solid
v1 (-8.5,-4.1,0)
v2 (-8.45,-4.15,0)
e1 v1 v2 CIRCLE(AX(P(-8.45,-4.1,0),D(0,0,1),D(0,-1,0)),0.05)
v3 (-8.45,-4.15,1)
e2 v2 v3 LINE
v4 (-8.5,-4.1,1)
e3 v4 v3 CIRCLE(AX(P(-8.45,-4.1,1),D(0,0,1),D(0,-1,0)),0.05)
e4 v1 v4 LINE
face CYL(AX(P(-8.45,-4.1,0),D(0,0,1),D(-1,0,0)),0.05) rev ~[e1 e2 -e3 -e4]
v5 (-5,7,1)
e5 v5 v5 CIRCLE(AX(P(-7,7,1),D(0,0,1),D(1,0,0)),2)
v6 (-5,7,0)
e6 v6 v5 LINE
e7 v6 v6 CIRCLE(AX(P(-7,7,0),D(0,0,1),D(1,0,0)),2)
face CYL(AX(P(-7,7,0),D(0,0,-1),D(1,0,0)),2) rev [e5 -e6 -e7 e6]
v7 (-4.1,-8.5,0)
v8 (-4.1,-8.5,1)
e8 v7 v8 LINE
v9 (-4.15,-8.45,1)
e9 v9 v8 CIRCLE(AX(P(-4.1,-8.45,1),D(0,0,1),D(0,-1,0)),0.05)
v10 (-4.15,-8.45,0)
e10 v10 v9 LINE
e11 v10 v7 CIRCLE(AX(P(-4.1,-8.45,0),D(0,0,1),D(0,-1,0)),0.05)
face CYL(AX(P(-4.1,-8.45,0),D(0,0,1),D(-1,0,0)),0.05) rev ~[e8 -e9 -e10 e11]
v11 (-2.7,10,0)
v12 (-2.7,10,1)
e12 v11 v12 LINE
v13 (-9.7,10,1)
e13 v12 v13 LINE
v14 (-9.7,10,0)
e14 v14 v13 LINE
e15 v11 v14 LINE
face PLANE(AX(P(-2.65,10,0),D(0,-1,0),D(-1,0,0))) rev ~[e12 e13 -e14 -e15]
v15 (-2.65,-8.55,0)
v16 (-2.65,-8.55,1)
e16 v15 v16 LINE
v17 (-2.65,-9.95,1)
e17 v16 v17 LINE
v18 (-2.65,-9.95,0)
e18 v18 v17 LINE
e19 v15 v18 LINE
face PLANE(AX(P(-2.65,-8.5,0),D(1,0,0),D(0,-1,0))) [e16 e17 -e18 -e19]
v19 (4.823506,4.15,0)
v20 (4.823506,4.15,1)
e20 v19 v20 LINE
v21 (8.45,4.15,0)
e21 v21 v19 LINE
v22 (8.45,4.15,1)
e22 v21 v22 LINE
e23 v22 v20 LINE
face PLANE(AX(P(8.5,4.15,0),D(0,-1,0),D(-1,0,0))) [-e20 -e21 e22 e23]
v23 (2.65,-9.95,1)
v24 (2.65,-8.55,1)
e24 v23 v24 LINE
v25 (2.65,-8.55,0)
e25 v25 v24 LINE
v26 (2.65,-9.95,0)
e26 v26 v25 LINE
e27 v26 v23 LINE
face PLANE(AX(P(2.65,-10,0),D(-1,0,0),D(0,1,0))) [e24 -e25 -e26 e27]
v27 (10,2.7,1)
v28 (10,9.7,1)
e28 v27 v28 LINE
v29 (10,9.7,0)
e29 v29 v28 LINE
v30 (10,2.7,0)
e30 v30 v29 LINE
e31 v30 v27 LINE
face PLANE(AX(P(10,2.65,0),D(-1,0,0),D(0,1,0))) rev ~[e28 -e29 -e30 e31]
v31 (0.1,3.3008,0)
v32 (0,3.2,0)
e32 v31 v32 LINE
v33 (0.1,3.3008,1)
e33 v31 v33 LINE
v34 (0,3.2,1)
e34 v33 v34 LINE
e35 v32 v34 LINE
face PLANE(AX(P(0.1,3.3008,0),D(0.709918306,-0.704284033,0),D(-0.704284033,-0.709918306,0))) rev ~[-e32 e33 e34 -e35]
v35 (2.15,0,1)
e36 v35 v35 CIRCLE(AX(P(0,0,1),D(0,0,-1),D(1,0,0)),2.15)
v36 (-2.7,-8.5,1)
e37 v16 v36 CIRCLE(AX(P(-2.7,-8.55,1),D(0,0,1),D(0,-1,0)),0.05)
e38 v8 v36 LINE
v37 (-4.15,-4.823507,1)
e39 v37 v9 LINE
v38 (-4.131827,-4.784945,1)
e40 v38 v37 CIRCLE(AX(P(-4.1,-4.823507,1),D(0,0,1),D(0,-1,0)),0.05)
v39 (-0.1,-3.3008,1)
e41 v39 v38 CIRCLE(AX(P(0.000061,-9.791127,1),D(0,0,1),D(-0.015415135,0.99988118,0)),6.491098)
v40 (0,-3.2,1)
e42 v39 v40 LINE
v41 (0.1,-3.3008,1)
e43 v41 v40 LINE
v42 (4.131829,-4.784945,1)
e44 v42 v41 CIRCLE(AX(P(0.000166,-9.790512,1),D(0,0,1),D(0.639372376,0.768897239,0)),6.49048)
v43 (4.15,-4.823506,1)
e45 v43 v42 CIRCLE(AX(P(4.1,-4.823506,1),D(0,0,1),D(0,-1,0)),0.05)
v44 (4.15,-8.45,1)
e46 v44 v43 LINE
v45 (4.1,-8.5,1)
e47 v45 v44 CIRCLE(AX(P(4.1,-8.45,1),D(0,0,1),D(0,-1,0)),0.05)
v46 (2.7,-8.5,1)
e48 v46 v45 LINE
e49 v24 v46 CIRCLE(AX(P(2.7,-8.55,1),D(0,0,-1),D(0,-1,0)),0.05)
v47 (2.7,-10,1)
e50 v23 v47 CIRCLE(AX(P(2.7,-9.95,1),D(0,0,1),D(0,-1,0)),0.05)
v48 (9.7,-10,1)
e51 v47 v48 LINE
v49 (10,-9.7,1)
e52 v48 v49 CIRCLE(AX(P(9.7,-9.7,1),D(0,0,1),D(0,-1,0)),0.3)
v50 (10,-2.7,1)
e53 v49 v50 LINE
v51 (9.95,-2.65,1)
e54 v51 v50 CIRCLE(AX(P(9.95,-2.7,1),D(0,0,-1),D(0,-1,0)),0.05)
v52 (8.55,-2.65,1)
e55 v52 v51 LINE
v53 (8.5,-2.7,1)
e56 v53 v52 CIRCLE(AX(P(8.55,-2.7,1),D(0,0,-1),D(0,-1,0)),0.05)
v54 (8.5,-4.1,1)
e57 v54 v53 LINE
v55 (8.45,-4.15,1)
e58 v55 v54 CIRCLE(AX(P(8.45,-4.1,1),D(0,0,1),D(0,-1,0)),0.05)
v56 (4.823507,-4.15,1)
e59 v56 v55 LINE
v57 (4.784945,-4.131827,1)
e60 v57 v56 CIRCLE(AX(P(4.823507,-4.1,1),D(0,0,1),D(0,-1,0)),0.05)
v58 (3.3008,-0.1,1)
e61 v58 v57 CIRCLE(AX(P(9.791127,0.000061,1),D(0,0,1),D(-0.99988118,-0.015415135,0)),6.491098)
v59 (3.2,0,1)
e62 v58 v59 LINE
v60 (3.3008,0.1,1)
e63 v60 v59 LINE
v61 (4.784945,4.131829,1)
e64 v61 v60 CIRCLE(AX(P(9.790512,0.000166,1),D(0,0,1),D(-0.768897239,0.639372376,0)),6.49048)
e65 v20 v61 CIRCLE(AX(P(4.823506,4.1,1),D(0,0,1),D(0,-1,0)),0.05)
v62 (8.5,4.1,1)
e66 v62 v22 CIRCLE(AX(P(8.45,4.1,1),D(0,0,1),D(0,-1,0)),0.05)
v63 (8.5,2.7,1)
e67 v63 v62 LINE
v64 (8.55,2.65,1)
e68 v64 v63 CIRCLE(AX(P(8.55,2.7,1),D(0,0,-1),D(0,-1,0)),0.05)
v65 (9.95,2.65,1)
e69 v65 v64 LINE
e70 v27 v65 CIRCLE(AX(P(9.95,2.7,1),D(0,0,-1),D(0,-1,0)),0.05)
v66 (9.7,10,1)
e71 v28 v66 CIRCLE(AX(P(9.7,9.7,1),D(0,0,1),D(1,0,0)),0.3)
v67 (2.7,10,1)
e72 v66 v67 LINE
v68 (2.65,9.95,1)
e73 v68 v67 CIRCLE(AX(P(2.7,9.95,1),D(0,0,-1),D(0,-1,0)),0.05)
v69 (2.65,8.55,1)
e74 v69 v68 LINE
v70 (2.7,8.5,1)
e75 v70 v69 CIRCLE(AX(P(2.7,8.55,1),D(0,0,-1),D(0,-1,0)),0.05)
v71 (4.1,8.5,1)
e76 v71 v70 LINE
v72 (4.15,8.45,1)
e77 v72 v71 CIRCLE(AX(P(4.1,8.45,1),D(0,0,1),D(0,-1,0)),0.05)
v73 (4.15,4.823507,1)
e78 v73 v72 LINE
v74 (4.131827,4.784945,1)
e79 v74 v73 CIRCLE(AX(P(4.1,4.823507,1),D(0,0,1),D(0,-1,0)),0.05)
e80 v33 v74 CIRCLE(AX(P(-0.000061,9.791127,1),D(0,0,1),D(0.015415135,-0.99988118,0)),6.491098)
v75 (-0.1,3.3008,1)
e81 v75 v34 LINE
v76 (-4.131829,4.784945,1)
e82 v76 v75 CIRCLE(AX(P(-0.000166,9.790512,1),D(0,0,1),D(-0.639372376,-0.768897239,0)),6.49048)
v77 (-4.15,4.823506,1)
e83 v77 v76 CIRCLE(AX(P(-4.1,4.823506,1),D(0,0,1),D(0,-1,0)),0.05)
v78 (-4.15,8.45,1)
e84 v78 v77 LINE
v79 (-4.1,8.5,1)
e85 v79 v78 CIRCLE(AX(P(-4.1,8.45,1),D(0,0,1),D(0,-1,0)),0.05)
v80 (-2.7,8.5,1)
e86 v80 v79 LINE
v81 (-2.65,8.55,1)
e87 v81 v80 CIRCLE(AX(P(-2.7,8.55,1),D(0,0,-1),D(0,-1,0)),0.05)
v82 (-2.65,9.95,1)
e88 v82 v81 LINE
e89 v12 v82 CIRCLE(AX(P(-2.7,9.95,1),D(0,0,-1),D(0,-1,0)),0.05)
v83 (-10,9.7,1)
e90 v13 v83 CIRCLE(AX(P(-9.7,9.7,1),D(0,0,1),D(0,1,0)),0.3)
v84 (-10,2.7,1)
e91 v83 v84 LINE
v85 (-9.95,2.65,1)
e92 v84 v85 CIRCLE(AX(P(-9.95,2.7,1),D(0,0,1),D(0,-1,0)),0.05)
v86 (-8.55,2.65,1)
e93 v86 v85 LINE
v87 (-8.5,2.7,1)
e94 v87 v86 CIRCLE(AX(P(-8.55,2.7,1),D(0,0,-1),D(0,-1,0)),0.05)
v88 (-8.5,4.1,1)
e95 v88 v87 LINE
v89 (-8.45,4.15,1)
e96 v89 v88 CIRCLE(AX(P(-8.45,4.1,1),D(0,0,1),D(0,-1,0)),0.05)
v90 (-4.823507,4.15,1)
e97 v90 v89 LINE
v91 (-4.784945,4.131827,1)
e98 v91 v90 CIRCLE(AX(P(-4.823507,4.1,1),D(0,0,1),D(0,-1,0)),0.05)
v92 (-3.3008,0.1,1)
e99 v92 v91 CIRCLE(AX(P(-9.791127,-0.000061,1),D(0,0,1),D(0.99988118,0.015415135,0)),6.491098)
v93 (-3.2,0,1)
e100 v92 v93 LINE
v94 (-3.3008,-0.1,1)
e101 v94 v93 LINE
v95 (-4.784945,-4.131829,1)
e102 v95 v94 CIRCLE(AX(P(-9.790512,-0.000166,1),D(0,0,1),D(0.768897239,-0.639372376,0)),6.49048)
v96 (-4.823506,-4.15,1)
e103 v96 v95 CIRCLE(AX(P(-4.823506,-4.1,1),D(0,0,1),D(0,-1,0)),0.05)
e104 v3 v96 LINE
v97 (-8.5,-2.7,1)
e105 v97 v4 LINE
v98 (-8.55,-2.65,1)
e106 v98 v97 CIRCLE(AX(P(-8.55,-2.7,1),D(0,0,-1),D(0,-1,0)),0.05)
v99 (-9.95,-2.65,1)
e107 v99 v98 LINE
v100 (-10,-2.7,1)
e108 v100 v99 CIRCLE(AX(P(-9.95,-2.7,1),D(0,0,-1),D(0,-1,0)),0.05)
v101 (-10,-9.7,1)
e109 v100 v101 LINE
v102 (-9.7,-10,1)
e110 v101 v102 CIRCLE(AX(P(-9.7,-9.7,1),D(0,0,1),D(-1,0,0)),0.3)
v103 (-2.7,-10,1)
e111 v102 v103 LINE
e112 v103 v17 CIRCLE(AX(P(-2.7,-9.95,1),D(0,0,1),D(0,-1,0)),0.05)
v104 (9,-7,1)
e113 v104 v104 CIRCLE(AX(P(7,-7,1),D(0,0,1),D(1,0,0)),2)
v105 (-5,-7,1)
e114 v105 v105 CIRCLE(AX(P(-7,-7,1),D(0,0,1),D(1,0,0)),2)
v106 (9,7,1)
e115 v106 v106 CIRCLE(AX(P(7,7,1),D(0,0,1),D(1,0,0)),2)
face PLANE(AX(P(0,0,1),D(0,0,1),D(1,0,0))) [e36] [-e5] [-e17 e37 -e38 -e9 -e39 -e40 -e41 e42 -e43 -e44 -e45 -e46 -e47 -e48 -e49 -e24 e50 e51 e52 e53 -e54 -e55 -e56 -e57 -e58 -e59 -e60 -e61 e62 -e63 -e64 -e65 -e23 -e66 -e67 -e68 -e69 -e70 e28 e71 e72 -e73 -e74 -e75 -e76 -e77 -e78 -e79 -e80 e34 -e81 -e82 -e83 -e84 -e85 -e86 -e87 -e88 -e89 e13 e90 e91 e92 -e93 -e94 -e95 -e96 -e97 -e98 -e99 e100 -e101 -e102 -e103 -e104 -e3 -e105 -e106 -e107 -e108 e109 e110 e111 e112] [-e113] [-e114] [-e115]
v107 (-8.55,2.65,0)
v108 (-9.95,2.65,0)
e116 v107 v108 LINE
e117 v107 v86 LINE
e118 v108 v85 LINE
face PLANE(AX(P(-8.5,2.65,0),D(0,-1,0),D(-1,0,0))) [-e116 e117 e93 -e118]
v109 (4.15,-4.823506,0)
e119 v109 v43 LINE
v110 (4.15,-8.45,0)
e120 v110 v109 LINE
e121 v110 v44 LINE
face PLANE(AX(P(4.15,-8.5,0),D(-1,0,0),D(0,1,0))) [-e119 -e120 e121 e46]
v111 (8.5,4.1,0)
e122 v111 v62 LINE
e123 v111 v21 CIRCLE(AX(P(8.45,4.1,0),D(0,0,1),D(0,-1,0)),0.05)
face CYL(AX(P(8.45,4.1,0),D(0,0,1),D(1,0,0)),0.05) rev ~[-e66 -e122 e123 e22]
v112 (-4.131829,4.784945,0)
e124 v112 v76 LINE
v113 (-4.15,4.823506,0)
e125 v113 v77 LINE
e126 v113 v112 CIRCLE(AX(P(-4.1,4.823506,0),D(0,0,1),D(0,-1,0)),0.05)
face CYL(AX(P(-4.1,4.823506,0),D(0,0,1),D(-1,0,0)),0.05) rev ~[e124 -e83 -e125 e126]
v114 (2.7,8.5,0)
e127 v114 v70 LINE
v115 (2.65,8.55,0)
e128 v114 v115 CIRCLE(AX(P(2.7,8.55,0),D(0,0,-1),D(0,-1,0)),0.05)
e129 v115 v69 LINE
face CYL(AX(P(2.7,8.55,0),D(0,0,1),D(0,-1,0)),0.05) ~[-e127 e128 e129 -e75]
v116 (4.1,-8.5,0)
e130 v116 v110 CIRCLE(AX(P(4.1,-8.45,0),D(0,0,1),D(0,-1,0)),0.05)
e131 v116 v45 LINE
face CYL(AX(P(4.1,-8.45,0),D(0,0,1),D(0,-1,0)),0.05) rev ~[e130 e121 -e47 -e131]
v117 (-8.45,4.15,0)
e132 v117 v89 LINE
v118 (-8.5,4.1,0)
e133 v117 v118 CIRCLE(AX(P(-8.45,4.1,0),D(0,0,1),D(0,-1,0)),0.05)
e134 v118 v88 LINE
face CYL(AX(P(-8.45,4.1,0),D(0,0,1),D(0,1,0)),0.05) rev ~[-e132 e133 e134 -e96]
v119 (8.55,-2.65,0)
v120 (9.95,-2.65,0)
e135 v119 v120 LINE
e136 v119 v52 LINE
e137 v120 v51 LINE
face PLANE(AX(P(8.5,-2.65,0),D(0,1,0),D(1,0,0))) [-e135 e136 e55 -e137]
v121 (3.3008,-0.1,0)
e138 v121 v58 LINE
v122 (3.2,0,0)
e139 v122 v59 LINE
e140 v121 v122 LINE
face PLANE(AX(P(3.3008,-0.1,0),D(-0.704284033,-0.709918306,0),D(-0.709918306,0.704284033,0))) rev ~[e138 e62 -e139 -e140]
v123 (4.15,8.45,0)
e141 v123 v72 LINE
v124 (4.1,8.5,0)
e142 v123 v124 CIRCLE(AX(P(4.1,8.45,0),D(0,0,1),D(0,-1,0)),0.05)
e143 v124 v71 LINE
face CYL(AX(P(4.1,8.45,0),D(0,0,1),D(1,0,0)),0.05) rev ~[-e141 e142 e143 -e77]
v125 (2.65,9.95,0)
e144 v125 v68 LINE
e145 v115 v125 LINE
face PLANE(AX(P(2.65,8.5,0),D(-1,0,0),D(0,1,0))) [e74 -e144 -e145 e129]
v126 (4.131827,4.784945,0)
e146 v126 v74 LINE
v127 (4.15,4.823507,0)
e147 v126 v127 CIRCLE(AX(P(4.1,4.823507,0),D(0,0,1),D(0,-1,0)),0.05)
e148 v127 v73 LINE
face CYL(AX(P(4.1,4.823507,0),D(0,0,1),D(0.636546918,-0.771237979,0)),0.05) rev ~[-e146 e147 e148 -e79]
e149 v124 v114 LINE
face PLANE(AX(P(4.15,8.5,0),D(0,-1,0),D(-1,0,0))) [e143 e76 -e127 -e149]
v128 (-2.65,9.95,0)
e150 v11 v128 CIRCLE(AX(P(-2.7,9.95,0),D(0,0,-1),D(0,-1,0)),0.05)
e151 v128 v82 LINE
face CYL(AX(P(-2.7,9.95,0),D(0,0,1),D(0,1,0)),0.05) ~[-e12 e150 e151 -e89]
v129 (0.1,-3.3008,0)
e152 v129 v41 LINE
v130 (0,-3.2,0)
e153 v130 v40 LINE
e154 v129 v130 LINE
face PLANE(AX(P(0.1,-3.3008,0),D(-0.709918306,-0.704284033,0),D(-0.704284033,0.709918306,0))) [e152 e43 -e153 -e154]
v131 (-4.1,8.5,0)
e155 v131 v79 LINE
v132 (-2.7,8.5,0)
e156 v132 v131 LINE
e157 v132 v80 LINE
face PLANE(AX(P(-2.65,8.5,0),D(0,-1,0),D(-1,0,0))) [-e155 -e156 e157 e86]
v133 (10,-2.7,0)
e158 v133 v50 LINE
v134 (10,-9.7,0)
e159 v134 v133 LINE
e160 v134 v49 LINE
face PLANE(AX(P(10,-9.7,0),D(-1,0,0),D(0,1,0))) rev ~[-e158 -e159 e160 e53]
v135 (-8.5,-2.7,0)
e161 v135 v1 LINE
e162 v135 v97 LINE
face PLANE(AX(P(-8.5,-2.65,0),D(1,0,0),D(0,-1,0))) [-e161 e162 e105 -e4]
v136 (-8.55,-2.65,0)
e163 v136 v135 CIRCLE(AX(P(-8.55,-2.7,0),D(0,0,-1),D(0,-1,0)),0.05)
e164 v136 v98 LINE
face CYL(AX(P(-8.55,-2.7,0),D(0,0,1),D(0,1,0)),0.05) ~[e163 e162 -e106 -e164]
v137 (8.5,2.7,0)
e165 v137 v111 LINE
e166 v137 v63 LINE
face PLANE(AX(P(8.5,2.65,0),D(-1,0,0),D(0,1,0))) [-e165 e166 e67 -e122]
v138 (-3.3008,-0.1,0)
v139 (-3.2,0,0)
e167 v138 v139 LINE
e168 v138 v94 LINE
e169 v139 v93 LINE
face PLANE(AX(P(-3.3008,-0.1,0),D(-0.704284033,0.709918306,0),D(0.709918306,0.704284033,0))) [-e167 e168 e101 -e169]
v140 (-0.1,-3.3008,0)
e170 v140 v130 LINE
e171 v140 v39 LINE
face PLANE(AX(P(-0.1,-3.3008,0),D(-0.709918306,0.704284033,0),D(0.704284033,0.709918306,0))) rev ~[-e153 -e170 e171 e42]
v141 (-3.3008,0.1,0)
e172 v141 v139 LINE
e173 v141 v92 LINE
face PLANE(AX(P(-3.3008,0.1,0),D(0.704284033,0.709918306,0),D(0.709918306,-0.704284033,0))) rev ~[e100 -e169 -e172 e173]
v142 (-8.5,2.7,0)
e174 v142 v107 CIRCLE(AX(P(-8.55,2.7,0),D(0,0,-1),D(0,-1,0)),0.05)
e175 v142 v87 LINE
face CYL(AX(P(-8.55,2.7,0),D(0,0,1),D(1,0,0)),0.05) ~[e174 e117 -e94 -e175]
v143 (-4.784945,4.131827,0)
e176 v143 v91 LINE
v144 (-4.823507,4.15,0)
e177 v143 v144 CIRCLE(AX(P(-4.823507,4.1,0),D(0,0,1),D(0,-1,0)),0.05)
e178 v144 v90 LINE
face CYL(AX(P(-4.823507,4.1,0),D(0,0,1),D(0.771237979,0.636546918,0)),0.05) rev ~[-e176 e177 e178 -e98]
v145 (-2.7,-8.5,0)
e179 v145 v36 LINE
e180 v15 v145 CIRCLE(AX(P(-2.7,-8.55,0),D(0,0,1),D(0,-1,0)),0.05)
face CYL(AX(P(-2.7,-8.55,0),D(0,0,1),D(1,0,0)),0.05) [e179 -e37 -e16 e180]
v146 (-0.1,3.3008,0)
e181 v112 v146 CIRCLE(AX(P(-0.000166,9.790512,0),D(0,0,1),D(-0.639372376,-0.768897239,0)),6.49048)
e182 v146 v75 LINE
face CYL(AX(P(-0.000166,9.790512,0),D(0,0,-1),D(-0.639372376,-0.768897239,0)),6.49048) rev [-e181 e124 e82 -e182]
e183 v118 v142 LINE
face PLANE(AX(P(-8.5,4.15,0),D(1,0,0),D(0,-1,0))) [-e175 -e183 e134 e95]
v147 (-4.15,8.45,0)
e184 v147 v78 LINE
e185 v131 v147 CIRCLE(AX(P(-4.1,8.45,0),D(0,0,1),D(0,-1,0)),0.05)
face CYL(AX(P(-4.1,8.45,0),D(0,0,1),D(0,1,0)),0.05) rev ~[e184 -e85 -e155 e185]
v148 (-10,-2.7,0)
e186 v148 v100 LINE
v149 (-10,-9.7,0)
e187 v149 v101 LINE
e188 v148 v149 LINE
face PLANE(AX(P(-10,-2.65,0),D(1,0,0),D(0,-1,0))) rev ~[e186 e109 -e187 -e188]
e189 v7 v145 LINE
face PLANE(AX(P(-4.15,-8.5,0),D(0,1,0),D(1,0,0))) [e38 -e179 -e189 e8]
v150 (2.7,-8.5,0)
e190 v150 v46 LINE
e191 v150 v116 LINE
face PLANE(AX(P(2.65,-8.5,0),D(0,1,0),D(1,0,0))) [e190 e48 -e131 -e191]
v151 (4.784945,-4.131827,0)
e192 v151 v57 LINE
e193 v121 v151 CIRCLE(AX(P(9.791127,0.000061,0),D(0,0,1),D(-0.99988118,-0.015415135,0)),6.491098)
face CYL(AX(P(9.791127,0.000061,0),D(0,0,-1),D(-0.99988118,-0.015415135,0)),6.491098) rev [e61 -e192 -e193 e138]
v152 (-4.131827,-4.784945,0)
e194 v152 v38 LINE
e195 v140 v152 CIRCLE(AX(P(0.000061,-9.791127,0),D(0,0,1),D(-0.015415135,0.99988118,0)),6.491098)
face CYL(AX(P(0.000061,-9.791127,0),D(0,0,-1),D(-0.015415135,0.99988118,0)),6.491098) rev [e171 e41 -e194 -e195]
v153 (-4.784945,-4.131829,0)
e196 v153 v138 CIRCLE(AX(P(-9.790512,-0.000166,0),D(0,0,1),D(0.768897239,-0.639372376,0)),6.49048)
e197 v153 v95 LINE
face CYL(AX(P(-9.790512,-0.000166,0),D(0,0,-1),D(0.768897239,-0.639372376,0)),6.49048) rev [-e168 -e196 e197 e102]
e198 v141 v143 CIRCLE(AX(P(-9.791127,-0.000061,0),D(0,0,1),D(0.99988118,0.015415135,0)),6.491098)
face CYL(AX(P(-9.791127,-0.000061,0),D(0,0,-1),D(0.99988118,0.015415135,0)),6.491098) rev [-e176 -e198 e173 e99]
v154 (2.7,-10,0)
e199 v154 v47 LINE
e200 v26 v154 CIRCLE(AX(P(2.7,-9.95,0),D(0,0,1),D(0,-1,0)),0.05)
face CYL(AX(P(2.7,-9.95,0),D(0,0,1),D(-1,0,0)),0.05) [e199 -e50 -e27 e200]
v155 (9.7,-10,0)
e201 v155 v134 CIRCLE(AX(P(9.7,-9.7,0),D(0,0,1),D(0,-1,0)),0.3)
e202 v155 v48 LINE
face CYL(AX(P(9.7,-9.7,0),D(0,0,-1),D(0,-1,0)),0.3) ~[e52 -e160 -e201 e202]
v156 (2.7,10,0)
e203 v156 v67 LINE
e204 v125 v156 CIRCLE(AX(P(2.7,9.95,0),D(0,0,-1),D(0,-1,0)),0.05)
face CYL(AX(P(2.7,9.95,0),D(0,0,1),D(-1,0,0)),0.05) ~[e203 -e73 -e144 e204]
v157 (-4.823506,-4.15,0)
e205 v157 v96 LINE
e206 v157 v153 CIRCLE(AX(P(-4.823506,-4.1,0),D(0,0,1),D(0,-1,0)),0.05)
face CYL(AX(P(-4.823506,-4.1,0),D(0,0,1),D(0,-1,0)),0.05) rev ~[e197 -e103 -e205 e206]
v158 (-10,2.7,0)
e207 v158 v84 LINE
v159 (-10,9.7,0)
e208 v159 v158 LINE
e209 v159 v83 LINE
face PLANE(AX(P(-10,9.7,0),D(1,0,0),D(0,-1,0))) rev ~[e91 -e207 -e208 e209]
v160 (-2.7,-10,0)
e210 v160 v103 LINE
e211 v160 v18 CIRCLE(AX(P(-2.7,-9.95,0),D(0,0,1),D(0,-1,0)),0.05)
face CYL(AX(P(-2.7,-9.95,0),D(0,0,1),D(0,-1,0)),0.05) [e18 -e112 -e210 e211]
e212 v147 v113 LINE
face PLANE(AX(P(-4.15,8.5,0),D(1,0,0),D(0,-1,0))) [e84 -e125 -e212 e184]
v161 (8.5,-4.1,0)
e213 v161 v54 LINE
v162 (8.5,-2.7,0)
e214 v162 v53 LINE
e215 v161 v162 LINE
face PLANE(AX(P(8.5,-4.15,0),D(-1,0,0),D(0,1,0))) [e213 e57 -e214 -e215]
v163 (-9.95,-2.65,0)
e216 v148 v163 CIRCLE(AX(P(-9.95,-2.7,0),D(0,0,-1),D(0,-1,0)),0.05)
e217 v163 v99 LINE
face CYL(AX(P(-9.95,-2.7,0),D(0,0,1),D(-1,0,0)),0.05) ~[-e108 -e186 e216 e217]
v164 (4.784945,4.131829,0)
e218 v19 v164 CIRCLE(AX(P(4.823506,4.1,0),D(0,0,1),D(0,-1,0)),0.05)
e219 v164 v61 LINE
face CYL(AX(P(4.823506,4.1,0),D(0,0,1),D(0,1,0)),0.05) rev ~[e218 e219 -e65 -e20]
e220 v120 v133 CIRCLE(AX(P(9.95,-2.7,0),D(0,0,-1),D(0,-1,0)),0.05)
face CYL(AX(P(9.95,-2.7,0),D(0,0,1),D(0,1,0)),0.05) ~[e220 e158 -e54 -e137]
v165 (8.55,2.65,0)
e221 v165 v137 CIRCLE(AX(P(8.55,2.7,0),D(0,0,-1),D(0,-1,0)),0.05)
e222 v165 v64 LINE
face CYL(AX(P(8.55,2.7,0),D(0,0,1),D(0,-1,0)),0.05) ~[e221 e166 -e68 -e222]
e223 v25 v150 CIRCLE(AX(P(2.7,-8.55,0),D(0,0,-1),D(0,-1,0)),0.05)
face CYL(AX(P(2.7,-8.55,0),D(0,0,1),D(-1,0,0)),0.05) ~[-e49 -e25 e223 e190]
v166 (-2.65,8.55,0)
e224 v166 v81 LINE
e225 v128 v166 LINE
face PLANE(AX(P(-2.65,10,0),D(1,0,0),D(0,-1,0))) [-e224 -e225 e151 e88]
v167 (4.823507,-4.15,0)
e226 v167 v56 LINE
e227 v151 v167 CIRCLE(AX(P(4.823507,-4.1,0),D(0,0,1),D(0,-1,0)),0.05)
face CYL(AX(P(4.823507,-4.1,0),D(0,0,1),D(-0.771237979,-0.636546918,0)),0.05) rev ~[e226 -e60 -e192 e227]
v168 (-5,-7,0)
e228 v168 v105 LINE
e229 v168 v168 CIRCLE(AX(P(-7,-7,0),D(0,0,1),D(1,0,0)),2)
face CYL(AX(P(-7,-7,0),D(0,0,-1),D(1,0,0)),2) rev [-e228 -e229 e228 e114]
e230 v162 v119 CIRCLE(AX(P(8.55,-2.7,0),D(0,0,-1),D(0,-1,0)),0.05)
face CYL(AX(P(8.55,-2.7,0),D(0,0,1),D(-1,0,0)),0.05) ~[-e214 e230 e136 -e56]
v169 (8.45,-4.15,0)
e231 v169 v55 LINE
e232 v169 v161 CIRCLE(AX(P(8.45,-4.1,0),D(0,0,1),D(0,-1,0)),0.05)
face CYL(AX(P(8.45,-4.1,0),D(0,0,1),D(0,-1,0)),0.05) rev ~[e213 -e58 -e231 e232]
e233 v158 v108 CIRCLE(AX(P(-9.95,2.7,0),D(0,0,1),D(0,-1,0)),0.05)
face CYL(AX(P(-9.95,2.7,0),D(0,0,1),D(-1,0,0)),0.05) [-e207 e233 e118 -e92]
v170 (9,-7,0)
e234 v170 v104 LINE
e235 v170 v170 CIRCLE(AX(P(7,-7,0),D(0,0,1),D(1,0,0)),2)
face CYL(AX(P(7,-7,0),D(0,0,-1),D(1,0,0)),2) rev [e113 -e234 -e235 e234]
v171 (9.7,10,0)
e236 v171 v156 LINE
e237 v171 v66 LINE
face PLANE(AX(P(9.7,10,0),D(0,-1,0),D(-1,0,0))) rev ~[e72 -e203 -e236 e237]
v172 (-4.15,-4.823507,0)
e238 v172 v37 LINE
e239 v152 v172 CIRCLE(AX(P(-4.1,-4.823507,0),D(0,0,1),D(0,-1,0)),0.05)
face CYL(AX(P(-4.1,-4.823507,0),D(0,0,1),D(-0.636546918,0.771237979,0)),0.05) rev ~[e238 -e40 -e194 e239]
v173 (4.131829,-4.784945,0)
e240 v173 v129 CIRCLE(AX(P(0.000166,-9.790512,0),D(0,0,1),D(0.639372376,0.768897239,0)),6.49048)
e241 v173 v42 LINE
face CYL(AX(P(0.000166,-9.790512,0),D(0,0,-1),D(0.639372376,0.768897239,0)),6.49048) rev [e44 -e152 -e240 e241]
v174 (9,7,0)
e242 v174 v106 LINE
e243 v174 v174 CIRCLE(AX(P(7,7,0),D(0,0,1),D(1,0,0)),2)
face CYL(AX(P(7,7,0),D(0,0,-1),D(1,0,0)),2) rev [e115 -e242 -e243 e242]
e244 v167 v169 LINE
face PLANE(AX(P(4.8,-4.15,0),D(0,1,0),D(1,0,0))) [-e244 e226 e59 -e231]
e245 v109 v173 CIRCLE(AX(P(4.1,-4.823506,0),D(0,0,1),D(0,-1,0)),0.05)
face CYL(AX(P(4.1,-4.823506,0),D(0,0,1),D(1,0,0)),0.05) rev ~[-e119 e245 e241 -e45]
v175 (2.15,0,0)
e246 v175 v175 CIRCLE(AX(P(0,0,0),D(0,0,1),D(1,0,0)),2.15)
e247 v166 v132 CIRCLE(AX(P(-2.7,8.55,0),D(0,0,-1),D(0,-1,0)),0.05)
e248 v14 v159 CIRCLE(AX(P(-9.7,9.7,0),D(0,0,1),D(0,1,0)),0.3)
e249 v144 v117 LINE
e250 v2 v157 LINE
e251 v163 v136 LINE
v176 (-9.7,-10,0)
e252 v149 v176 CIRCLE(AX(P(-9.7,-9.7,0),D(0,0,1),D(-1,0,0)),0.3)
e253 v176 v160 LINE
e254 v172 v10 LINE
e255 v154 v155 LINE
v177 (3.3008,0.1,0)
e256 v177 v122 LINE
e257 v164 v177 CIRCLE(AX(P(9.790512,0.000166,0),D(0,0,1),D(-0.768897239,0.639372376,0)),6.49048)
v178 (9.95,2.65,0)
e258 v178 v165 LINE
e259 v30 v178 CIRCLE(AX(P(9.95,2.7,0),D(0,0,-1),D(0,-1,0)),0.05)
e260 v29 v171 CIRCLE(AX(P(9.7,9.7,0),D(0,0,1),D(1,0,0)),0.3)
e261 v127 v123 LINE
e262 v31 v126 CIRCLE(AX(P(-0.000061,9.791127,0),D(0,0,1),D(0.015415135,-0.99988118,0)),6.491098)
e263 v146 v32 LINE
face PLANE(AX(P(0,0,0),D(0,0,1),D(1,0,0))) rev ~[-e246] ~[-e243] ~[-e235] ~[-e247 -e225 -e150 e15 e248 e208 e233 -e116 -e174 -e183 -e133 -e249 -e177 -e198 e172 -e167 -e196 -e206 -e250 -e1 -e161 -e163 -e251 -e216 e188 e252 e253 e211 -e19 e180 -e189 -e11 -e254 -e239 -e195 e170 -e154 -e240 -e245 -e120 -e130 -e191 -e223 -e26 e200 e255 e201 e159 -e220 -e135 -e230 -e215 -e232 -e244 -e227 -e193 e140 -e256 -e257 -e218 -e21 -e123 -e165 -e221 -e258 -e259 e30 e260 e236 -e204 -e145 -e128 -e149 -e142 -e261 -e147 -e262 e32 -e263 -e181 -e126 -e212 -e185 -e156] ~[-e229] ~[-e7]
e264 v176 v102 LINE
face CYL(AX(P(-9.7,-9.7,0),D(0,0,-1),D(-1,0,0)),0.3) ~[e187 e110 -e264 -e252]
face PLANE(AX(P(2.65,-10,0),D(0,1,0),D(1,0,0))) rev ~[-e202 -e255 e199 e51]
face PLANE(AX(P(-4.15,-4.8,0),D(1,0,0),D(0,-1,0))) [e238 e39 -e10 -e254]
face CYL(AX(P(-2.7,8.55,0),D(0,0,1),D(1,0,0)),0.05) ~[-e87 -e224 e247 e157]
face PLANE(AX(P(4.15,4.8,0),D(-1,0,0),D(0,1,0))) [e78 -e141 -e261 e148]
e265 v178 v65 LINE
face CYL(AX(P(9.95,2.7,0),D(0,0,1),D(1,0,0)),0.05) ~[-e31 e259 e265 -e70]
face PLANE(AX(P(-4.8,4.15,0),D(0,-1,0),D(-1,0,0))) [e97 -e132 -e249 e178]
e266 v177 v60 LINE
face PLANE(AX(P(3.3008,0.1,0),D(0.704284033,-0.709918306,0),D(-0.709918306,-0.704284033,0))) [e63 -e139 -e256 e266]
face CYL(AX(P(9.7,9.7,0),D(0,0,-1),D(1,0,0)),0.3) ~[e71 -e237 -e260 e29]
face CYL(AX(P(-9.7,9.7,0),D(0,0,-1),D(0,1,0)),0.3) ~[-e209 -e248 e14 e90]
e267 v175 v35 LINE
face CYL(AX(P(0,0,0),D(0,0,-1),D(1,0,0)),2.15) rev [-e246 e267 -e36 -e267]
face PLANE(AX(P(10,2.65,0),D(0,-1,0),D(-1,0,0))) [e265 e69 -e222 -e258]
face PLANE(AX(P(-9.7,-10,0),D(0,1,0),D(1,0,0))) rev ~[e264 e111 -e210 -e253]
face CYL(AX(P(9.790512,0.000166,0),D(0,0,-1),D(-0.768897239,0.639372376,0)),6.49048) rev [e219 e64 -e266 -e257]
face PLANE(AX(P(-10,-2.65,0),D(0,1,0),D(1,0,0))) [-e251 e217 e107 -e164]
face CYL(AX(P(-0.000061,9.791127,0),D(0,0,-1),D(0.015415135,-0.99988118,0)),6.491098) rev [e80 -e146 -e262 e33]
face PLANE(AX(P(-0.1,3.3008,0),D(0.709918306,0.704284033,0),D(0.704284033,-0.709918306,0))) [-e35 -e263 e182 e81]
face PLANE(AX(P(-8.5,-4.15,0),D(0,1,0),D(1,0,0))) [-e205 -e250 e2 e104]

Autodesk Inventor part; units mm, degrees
ref_plane "YZ Plane" through (0, 0, 0) normal (1, 0, 0) x (0, 1, 0)
ref_plane "XZ Plane" through (0, 0, 0) normal (0, 1, 0) x (-1, 0, 0)
ref_plane "XY Plane" through (0, 0, 0) normal (0, 0, 1) x (1, 0, 0)
sketch "스케치1" plane through (0, 0, 0) normal (0, 0, 1) x (1, 0, 0)
  line L0 (-9.7, -10) -> (9.7, -10)
  line L1 (10, -9.7) -> (10, 9.7)
  line L2 (9.7, 10) -> (-9.7, 10)
  line L3 (-10, 9.7) -> (-10, -9.7)
  line L4 (-10, -10) -> (10, 10) construction
  line L5 (10, -10) -> (-10, 10) construction
  circle A0 centre (-7, 7) radius 2
  line L6 (0, 15.6683) -> (0, -20)
  line L7 (-22.0072, 0) -> (22.0072, 0)
  circle A1 centre (0, 0) radius 2.15
  arc A2 (-9.7, 10) -> (-10, 9.7) centre (-9.7, 9.7) ccw
  arc A3 (10, 9.7) -> (9.7, 10) centre (9.7, 9.7) ccw
  arc A4 (9.7, -10) -> (10, -9.7) centre (9.7, -9.7) ccw
  arc A5 (-10, -9.7) -> (-9.7, -10) centre (-9.7, -9.7) ccw
  line L8 (-2.65, 10) -> (-2.65, 8.5)
  line L9 (-2.65, 8.5) -> (-4.15, 8.5)
  line L10 (-4.15, 8.5) -> (-4.15, 4.8)
  line L11 (4.15, 4.8) -> (4.15, 8.5)
  line L12 (4.15, 8.5) -> (2.65, 8.5)
  line L13 (2.65, 8.5) -> (2.65, 10)
  line L14 (-0.1, 3.3008) -> (0, 3.2)
  line L15 (0.1, 3.3008) -> (0, 3.2)
  arc A6 (-4.15, 4.8) -> (-0.1, 3.3008) centre (0, 9.7908) ccw
  arc A7 (0.1, 3.3008) -> (4.15, 4.8) centre (0, 9.7908) ccw
  circle A8 centre (7, 7) radius 2
  circle A9 centre (-7, -7) radius 2
  circle A10 centre (7, -7) radius 2
  line L16 (-3.3008, 0.1) -> (-3.2, 0)
  line L17 (-3.3008, -0.1) -> (-3.2, 0)
  arc A11 (-4.8, -4.15) -> (-3.3008, -0.1) centre (-9.7908, 0) ccw
  line L18 (-8.5, -4.15) -> (-4.8, -4.15)
  line L19 (-10, -2.65) -> (-8.5, -2.65)
  line L20 (-8.5, 2.65) -> (-10, 2.65)
  arc A12 (-3.3008, 0.1) -> (-4.8, 4.15) centre (-9.7908, 0) ccw
  line L21 (-4.8, 4.15) -> (-8.5, 4.15)
  line L22 (-8.5, 4.15) -> (-8.5, 2.65)
  line L23 (-8.5, -2.65) -> (-8.5, -4.15)
  line L24 (-0.1, -3.3008) -> (0, -3.2)
  line L25 (0.1, -3.3008) -> (0, -3.2)
  arc A13 (4.15, -4.8) -> (0.1, -3.3008) centre (0, -9.7908) ccw
  line L26 (4.15, -8.5) -> (4.15, -4.8)
  line L27 (2.65, -10) -> (2.65, -8.5)
  line L28 (-2.65, -8.5) -> (-2.65, -10)
  arc A14 (-0.1, -3.3008) -> (-4.15, -4.8) centre (0, -9.7908) ccw
  line L29 (-4.15, -4.8) -> (-4.15, -8.5)
  line L30 (-4.15, -8.5) -> (-2.65, -8.5)
  line L31 (2.65, -8.5) -> (4.15, -8.5)
  line L32 (3.3008, -0.1) -> (3.2, 0)
  line L33 (3.3008, 0.1) -> (3.2, 0)
  arc A15 (4.8, 4.15) -> (3.3008, 0.1) centre (9.7908, 0) ccw
  line L34 (8.5, 4.15) -> (4.8, 4.15)
  line L35 (10, 2.65) -> (8.5, 2.65)
  line L36 (8.5, -2.65) -> (10, -2.65)
  arc A16 (3.3008, -0.1) -> (4.8, -4.15) centre (9.7908, 0) ccw
  line L37 (4.8, -4.15) -> (8.5, -4.15)
  line L38 (8.5, -4.15) -> (8.5, -2.65)
  line L39 (8.5, 2.65) -> (8.5, 4.15)
  point P0 (2.65, 9.25)
  point P1 (-2.65, 9.25)
  point P2 (-4.15, 6.65)
  point P3 (0, 3.3)
  point P4 (-3.3, 0)
  point P5 (-9.25, -2.65)
  point P6 (-6.65, -4.15)
  point P7 (-9.25, 2.65)
  point P8 (0, -3.3)
  point P9 (2.65, -9.25)
  point P10 (4.15, -6.65)
  point P11 (-2.65, -9.25)
  point P12 (3.3, 0)
  point P13 (9.25, 2.65)
  point P14 (6.65, 4.15)
  point P15 (9.25, -2.65)
  dimension "d0" = 20
  dimension "d1" = 20
  dimension "d2" = 4
  dimension "d3" = 14
  dimension "d4" = 14
  dimension "d5" = 4.3
  dimension "d6" = 0.3
  dimension "d9" = 8.3
  dimension "d10" = 5.3
  dimension "d11" = 5.3
  dimension "d12" = 1.5
  dimension "d15" = 0.1
  dimension "d16" = 0.1
  dimension "d17" = 0.1
  dimension "d19" = 3.7
  dimension "d22" = 360
extrude "프로파일 길이 설정" add sketch "스케치1" along normal blind 1 contours A5 L3 L19 L23 L18 A11 L17 L7 A1 L6 L24 A14 L29 L30 L28 L0 | L27 L31 L26 A13 L25 L6 A1 L7 L32 A16 L37 L38 L36 L1 A4 L0 | L3 A2 L2 L8 L9 L10 A6 L14 L6 A1 L7 L16 A12 L21 L22 L20 | A1 L6 L15 A7 L11 L12 L13 L2 A3 L1 L35 L39 L34 A15 L33 L7
fillet "모서리" radius 0.05 32 edges at (10, 2.65, 0.5) (8.5, 2.65, 0.5) (8.5, 4.15, 0.5) (10, -2.65, 0.5) (8.5, -2.65, 0.5) (8.5, -4.15, 0.5) (2.65, 8.5, 0.5) (2.65, 10, 0.5) (4.15, 8.5, 0.5) (-4.15, 8.5, 0.5) (-2.65, 8.5, 0.5) (-2.65, 10, 0.5) (-10, 2.65, 0.5) (-8.5, 2.65, 0.5) (-8.5, 4.15, 0.5) (-8.5, -4.15, 0.5) (-8.5, -2.65, 0.5) (-10, -2.65, 0.5) (-2.65, -10, 0.5) (-2.65, -8.5, 0.5) (-4.15, -8.5, 0.5) (2.65, -8.5, 0.5) (4.15, -8.5, 0.5) (2.65, -10, 0.5) (4.15, -4.8, 0.5) (-4.15, -4.8, 0.5) (-4.8, -4.15, 0.5) (-4.8, 4.15, 0.5) (-4.15, 4.8, 0.5) (4.15, 4.8, 0.5) (4.8, -4.15, 0.5) (4.8, 4.15, 0.5)
equation "\"d0\" = d1"
equation "\"d11\" = d10"
equation "\"d17\" = d16"
properties part number "20x20 Profile"
